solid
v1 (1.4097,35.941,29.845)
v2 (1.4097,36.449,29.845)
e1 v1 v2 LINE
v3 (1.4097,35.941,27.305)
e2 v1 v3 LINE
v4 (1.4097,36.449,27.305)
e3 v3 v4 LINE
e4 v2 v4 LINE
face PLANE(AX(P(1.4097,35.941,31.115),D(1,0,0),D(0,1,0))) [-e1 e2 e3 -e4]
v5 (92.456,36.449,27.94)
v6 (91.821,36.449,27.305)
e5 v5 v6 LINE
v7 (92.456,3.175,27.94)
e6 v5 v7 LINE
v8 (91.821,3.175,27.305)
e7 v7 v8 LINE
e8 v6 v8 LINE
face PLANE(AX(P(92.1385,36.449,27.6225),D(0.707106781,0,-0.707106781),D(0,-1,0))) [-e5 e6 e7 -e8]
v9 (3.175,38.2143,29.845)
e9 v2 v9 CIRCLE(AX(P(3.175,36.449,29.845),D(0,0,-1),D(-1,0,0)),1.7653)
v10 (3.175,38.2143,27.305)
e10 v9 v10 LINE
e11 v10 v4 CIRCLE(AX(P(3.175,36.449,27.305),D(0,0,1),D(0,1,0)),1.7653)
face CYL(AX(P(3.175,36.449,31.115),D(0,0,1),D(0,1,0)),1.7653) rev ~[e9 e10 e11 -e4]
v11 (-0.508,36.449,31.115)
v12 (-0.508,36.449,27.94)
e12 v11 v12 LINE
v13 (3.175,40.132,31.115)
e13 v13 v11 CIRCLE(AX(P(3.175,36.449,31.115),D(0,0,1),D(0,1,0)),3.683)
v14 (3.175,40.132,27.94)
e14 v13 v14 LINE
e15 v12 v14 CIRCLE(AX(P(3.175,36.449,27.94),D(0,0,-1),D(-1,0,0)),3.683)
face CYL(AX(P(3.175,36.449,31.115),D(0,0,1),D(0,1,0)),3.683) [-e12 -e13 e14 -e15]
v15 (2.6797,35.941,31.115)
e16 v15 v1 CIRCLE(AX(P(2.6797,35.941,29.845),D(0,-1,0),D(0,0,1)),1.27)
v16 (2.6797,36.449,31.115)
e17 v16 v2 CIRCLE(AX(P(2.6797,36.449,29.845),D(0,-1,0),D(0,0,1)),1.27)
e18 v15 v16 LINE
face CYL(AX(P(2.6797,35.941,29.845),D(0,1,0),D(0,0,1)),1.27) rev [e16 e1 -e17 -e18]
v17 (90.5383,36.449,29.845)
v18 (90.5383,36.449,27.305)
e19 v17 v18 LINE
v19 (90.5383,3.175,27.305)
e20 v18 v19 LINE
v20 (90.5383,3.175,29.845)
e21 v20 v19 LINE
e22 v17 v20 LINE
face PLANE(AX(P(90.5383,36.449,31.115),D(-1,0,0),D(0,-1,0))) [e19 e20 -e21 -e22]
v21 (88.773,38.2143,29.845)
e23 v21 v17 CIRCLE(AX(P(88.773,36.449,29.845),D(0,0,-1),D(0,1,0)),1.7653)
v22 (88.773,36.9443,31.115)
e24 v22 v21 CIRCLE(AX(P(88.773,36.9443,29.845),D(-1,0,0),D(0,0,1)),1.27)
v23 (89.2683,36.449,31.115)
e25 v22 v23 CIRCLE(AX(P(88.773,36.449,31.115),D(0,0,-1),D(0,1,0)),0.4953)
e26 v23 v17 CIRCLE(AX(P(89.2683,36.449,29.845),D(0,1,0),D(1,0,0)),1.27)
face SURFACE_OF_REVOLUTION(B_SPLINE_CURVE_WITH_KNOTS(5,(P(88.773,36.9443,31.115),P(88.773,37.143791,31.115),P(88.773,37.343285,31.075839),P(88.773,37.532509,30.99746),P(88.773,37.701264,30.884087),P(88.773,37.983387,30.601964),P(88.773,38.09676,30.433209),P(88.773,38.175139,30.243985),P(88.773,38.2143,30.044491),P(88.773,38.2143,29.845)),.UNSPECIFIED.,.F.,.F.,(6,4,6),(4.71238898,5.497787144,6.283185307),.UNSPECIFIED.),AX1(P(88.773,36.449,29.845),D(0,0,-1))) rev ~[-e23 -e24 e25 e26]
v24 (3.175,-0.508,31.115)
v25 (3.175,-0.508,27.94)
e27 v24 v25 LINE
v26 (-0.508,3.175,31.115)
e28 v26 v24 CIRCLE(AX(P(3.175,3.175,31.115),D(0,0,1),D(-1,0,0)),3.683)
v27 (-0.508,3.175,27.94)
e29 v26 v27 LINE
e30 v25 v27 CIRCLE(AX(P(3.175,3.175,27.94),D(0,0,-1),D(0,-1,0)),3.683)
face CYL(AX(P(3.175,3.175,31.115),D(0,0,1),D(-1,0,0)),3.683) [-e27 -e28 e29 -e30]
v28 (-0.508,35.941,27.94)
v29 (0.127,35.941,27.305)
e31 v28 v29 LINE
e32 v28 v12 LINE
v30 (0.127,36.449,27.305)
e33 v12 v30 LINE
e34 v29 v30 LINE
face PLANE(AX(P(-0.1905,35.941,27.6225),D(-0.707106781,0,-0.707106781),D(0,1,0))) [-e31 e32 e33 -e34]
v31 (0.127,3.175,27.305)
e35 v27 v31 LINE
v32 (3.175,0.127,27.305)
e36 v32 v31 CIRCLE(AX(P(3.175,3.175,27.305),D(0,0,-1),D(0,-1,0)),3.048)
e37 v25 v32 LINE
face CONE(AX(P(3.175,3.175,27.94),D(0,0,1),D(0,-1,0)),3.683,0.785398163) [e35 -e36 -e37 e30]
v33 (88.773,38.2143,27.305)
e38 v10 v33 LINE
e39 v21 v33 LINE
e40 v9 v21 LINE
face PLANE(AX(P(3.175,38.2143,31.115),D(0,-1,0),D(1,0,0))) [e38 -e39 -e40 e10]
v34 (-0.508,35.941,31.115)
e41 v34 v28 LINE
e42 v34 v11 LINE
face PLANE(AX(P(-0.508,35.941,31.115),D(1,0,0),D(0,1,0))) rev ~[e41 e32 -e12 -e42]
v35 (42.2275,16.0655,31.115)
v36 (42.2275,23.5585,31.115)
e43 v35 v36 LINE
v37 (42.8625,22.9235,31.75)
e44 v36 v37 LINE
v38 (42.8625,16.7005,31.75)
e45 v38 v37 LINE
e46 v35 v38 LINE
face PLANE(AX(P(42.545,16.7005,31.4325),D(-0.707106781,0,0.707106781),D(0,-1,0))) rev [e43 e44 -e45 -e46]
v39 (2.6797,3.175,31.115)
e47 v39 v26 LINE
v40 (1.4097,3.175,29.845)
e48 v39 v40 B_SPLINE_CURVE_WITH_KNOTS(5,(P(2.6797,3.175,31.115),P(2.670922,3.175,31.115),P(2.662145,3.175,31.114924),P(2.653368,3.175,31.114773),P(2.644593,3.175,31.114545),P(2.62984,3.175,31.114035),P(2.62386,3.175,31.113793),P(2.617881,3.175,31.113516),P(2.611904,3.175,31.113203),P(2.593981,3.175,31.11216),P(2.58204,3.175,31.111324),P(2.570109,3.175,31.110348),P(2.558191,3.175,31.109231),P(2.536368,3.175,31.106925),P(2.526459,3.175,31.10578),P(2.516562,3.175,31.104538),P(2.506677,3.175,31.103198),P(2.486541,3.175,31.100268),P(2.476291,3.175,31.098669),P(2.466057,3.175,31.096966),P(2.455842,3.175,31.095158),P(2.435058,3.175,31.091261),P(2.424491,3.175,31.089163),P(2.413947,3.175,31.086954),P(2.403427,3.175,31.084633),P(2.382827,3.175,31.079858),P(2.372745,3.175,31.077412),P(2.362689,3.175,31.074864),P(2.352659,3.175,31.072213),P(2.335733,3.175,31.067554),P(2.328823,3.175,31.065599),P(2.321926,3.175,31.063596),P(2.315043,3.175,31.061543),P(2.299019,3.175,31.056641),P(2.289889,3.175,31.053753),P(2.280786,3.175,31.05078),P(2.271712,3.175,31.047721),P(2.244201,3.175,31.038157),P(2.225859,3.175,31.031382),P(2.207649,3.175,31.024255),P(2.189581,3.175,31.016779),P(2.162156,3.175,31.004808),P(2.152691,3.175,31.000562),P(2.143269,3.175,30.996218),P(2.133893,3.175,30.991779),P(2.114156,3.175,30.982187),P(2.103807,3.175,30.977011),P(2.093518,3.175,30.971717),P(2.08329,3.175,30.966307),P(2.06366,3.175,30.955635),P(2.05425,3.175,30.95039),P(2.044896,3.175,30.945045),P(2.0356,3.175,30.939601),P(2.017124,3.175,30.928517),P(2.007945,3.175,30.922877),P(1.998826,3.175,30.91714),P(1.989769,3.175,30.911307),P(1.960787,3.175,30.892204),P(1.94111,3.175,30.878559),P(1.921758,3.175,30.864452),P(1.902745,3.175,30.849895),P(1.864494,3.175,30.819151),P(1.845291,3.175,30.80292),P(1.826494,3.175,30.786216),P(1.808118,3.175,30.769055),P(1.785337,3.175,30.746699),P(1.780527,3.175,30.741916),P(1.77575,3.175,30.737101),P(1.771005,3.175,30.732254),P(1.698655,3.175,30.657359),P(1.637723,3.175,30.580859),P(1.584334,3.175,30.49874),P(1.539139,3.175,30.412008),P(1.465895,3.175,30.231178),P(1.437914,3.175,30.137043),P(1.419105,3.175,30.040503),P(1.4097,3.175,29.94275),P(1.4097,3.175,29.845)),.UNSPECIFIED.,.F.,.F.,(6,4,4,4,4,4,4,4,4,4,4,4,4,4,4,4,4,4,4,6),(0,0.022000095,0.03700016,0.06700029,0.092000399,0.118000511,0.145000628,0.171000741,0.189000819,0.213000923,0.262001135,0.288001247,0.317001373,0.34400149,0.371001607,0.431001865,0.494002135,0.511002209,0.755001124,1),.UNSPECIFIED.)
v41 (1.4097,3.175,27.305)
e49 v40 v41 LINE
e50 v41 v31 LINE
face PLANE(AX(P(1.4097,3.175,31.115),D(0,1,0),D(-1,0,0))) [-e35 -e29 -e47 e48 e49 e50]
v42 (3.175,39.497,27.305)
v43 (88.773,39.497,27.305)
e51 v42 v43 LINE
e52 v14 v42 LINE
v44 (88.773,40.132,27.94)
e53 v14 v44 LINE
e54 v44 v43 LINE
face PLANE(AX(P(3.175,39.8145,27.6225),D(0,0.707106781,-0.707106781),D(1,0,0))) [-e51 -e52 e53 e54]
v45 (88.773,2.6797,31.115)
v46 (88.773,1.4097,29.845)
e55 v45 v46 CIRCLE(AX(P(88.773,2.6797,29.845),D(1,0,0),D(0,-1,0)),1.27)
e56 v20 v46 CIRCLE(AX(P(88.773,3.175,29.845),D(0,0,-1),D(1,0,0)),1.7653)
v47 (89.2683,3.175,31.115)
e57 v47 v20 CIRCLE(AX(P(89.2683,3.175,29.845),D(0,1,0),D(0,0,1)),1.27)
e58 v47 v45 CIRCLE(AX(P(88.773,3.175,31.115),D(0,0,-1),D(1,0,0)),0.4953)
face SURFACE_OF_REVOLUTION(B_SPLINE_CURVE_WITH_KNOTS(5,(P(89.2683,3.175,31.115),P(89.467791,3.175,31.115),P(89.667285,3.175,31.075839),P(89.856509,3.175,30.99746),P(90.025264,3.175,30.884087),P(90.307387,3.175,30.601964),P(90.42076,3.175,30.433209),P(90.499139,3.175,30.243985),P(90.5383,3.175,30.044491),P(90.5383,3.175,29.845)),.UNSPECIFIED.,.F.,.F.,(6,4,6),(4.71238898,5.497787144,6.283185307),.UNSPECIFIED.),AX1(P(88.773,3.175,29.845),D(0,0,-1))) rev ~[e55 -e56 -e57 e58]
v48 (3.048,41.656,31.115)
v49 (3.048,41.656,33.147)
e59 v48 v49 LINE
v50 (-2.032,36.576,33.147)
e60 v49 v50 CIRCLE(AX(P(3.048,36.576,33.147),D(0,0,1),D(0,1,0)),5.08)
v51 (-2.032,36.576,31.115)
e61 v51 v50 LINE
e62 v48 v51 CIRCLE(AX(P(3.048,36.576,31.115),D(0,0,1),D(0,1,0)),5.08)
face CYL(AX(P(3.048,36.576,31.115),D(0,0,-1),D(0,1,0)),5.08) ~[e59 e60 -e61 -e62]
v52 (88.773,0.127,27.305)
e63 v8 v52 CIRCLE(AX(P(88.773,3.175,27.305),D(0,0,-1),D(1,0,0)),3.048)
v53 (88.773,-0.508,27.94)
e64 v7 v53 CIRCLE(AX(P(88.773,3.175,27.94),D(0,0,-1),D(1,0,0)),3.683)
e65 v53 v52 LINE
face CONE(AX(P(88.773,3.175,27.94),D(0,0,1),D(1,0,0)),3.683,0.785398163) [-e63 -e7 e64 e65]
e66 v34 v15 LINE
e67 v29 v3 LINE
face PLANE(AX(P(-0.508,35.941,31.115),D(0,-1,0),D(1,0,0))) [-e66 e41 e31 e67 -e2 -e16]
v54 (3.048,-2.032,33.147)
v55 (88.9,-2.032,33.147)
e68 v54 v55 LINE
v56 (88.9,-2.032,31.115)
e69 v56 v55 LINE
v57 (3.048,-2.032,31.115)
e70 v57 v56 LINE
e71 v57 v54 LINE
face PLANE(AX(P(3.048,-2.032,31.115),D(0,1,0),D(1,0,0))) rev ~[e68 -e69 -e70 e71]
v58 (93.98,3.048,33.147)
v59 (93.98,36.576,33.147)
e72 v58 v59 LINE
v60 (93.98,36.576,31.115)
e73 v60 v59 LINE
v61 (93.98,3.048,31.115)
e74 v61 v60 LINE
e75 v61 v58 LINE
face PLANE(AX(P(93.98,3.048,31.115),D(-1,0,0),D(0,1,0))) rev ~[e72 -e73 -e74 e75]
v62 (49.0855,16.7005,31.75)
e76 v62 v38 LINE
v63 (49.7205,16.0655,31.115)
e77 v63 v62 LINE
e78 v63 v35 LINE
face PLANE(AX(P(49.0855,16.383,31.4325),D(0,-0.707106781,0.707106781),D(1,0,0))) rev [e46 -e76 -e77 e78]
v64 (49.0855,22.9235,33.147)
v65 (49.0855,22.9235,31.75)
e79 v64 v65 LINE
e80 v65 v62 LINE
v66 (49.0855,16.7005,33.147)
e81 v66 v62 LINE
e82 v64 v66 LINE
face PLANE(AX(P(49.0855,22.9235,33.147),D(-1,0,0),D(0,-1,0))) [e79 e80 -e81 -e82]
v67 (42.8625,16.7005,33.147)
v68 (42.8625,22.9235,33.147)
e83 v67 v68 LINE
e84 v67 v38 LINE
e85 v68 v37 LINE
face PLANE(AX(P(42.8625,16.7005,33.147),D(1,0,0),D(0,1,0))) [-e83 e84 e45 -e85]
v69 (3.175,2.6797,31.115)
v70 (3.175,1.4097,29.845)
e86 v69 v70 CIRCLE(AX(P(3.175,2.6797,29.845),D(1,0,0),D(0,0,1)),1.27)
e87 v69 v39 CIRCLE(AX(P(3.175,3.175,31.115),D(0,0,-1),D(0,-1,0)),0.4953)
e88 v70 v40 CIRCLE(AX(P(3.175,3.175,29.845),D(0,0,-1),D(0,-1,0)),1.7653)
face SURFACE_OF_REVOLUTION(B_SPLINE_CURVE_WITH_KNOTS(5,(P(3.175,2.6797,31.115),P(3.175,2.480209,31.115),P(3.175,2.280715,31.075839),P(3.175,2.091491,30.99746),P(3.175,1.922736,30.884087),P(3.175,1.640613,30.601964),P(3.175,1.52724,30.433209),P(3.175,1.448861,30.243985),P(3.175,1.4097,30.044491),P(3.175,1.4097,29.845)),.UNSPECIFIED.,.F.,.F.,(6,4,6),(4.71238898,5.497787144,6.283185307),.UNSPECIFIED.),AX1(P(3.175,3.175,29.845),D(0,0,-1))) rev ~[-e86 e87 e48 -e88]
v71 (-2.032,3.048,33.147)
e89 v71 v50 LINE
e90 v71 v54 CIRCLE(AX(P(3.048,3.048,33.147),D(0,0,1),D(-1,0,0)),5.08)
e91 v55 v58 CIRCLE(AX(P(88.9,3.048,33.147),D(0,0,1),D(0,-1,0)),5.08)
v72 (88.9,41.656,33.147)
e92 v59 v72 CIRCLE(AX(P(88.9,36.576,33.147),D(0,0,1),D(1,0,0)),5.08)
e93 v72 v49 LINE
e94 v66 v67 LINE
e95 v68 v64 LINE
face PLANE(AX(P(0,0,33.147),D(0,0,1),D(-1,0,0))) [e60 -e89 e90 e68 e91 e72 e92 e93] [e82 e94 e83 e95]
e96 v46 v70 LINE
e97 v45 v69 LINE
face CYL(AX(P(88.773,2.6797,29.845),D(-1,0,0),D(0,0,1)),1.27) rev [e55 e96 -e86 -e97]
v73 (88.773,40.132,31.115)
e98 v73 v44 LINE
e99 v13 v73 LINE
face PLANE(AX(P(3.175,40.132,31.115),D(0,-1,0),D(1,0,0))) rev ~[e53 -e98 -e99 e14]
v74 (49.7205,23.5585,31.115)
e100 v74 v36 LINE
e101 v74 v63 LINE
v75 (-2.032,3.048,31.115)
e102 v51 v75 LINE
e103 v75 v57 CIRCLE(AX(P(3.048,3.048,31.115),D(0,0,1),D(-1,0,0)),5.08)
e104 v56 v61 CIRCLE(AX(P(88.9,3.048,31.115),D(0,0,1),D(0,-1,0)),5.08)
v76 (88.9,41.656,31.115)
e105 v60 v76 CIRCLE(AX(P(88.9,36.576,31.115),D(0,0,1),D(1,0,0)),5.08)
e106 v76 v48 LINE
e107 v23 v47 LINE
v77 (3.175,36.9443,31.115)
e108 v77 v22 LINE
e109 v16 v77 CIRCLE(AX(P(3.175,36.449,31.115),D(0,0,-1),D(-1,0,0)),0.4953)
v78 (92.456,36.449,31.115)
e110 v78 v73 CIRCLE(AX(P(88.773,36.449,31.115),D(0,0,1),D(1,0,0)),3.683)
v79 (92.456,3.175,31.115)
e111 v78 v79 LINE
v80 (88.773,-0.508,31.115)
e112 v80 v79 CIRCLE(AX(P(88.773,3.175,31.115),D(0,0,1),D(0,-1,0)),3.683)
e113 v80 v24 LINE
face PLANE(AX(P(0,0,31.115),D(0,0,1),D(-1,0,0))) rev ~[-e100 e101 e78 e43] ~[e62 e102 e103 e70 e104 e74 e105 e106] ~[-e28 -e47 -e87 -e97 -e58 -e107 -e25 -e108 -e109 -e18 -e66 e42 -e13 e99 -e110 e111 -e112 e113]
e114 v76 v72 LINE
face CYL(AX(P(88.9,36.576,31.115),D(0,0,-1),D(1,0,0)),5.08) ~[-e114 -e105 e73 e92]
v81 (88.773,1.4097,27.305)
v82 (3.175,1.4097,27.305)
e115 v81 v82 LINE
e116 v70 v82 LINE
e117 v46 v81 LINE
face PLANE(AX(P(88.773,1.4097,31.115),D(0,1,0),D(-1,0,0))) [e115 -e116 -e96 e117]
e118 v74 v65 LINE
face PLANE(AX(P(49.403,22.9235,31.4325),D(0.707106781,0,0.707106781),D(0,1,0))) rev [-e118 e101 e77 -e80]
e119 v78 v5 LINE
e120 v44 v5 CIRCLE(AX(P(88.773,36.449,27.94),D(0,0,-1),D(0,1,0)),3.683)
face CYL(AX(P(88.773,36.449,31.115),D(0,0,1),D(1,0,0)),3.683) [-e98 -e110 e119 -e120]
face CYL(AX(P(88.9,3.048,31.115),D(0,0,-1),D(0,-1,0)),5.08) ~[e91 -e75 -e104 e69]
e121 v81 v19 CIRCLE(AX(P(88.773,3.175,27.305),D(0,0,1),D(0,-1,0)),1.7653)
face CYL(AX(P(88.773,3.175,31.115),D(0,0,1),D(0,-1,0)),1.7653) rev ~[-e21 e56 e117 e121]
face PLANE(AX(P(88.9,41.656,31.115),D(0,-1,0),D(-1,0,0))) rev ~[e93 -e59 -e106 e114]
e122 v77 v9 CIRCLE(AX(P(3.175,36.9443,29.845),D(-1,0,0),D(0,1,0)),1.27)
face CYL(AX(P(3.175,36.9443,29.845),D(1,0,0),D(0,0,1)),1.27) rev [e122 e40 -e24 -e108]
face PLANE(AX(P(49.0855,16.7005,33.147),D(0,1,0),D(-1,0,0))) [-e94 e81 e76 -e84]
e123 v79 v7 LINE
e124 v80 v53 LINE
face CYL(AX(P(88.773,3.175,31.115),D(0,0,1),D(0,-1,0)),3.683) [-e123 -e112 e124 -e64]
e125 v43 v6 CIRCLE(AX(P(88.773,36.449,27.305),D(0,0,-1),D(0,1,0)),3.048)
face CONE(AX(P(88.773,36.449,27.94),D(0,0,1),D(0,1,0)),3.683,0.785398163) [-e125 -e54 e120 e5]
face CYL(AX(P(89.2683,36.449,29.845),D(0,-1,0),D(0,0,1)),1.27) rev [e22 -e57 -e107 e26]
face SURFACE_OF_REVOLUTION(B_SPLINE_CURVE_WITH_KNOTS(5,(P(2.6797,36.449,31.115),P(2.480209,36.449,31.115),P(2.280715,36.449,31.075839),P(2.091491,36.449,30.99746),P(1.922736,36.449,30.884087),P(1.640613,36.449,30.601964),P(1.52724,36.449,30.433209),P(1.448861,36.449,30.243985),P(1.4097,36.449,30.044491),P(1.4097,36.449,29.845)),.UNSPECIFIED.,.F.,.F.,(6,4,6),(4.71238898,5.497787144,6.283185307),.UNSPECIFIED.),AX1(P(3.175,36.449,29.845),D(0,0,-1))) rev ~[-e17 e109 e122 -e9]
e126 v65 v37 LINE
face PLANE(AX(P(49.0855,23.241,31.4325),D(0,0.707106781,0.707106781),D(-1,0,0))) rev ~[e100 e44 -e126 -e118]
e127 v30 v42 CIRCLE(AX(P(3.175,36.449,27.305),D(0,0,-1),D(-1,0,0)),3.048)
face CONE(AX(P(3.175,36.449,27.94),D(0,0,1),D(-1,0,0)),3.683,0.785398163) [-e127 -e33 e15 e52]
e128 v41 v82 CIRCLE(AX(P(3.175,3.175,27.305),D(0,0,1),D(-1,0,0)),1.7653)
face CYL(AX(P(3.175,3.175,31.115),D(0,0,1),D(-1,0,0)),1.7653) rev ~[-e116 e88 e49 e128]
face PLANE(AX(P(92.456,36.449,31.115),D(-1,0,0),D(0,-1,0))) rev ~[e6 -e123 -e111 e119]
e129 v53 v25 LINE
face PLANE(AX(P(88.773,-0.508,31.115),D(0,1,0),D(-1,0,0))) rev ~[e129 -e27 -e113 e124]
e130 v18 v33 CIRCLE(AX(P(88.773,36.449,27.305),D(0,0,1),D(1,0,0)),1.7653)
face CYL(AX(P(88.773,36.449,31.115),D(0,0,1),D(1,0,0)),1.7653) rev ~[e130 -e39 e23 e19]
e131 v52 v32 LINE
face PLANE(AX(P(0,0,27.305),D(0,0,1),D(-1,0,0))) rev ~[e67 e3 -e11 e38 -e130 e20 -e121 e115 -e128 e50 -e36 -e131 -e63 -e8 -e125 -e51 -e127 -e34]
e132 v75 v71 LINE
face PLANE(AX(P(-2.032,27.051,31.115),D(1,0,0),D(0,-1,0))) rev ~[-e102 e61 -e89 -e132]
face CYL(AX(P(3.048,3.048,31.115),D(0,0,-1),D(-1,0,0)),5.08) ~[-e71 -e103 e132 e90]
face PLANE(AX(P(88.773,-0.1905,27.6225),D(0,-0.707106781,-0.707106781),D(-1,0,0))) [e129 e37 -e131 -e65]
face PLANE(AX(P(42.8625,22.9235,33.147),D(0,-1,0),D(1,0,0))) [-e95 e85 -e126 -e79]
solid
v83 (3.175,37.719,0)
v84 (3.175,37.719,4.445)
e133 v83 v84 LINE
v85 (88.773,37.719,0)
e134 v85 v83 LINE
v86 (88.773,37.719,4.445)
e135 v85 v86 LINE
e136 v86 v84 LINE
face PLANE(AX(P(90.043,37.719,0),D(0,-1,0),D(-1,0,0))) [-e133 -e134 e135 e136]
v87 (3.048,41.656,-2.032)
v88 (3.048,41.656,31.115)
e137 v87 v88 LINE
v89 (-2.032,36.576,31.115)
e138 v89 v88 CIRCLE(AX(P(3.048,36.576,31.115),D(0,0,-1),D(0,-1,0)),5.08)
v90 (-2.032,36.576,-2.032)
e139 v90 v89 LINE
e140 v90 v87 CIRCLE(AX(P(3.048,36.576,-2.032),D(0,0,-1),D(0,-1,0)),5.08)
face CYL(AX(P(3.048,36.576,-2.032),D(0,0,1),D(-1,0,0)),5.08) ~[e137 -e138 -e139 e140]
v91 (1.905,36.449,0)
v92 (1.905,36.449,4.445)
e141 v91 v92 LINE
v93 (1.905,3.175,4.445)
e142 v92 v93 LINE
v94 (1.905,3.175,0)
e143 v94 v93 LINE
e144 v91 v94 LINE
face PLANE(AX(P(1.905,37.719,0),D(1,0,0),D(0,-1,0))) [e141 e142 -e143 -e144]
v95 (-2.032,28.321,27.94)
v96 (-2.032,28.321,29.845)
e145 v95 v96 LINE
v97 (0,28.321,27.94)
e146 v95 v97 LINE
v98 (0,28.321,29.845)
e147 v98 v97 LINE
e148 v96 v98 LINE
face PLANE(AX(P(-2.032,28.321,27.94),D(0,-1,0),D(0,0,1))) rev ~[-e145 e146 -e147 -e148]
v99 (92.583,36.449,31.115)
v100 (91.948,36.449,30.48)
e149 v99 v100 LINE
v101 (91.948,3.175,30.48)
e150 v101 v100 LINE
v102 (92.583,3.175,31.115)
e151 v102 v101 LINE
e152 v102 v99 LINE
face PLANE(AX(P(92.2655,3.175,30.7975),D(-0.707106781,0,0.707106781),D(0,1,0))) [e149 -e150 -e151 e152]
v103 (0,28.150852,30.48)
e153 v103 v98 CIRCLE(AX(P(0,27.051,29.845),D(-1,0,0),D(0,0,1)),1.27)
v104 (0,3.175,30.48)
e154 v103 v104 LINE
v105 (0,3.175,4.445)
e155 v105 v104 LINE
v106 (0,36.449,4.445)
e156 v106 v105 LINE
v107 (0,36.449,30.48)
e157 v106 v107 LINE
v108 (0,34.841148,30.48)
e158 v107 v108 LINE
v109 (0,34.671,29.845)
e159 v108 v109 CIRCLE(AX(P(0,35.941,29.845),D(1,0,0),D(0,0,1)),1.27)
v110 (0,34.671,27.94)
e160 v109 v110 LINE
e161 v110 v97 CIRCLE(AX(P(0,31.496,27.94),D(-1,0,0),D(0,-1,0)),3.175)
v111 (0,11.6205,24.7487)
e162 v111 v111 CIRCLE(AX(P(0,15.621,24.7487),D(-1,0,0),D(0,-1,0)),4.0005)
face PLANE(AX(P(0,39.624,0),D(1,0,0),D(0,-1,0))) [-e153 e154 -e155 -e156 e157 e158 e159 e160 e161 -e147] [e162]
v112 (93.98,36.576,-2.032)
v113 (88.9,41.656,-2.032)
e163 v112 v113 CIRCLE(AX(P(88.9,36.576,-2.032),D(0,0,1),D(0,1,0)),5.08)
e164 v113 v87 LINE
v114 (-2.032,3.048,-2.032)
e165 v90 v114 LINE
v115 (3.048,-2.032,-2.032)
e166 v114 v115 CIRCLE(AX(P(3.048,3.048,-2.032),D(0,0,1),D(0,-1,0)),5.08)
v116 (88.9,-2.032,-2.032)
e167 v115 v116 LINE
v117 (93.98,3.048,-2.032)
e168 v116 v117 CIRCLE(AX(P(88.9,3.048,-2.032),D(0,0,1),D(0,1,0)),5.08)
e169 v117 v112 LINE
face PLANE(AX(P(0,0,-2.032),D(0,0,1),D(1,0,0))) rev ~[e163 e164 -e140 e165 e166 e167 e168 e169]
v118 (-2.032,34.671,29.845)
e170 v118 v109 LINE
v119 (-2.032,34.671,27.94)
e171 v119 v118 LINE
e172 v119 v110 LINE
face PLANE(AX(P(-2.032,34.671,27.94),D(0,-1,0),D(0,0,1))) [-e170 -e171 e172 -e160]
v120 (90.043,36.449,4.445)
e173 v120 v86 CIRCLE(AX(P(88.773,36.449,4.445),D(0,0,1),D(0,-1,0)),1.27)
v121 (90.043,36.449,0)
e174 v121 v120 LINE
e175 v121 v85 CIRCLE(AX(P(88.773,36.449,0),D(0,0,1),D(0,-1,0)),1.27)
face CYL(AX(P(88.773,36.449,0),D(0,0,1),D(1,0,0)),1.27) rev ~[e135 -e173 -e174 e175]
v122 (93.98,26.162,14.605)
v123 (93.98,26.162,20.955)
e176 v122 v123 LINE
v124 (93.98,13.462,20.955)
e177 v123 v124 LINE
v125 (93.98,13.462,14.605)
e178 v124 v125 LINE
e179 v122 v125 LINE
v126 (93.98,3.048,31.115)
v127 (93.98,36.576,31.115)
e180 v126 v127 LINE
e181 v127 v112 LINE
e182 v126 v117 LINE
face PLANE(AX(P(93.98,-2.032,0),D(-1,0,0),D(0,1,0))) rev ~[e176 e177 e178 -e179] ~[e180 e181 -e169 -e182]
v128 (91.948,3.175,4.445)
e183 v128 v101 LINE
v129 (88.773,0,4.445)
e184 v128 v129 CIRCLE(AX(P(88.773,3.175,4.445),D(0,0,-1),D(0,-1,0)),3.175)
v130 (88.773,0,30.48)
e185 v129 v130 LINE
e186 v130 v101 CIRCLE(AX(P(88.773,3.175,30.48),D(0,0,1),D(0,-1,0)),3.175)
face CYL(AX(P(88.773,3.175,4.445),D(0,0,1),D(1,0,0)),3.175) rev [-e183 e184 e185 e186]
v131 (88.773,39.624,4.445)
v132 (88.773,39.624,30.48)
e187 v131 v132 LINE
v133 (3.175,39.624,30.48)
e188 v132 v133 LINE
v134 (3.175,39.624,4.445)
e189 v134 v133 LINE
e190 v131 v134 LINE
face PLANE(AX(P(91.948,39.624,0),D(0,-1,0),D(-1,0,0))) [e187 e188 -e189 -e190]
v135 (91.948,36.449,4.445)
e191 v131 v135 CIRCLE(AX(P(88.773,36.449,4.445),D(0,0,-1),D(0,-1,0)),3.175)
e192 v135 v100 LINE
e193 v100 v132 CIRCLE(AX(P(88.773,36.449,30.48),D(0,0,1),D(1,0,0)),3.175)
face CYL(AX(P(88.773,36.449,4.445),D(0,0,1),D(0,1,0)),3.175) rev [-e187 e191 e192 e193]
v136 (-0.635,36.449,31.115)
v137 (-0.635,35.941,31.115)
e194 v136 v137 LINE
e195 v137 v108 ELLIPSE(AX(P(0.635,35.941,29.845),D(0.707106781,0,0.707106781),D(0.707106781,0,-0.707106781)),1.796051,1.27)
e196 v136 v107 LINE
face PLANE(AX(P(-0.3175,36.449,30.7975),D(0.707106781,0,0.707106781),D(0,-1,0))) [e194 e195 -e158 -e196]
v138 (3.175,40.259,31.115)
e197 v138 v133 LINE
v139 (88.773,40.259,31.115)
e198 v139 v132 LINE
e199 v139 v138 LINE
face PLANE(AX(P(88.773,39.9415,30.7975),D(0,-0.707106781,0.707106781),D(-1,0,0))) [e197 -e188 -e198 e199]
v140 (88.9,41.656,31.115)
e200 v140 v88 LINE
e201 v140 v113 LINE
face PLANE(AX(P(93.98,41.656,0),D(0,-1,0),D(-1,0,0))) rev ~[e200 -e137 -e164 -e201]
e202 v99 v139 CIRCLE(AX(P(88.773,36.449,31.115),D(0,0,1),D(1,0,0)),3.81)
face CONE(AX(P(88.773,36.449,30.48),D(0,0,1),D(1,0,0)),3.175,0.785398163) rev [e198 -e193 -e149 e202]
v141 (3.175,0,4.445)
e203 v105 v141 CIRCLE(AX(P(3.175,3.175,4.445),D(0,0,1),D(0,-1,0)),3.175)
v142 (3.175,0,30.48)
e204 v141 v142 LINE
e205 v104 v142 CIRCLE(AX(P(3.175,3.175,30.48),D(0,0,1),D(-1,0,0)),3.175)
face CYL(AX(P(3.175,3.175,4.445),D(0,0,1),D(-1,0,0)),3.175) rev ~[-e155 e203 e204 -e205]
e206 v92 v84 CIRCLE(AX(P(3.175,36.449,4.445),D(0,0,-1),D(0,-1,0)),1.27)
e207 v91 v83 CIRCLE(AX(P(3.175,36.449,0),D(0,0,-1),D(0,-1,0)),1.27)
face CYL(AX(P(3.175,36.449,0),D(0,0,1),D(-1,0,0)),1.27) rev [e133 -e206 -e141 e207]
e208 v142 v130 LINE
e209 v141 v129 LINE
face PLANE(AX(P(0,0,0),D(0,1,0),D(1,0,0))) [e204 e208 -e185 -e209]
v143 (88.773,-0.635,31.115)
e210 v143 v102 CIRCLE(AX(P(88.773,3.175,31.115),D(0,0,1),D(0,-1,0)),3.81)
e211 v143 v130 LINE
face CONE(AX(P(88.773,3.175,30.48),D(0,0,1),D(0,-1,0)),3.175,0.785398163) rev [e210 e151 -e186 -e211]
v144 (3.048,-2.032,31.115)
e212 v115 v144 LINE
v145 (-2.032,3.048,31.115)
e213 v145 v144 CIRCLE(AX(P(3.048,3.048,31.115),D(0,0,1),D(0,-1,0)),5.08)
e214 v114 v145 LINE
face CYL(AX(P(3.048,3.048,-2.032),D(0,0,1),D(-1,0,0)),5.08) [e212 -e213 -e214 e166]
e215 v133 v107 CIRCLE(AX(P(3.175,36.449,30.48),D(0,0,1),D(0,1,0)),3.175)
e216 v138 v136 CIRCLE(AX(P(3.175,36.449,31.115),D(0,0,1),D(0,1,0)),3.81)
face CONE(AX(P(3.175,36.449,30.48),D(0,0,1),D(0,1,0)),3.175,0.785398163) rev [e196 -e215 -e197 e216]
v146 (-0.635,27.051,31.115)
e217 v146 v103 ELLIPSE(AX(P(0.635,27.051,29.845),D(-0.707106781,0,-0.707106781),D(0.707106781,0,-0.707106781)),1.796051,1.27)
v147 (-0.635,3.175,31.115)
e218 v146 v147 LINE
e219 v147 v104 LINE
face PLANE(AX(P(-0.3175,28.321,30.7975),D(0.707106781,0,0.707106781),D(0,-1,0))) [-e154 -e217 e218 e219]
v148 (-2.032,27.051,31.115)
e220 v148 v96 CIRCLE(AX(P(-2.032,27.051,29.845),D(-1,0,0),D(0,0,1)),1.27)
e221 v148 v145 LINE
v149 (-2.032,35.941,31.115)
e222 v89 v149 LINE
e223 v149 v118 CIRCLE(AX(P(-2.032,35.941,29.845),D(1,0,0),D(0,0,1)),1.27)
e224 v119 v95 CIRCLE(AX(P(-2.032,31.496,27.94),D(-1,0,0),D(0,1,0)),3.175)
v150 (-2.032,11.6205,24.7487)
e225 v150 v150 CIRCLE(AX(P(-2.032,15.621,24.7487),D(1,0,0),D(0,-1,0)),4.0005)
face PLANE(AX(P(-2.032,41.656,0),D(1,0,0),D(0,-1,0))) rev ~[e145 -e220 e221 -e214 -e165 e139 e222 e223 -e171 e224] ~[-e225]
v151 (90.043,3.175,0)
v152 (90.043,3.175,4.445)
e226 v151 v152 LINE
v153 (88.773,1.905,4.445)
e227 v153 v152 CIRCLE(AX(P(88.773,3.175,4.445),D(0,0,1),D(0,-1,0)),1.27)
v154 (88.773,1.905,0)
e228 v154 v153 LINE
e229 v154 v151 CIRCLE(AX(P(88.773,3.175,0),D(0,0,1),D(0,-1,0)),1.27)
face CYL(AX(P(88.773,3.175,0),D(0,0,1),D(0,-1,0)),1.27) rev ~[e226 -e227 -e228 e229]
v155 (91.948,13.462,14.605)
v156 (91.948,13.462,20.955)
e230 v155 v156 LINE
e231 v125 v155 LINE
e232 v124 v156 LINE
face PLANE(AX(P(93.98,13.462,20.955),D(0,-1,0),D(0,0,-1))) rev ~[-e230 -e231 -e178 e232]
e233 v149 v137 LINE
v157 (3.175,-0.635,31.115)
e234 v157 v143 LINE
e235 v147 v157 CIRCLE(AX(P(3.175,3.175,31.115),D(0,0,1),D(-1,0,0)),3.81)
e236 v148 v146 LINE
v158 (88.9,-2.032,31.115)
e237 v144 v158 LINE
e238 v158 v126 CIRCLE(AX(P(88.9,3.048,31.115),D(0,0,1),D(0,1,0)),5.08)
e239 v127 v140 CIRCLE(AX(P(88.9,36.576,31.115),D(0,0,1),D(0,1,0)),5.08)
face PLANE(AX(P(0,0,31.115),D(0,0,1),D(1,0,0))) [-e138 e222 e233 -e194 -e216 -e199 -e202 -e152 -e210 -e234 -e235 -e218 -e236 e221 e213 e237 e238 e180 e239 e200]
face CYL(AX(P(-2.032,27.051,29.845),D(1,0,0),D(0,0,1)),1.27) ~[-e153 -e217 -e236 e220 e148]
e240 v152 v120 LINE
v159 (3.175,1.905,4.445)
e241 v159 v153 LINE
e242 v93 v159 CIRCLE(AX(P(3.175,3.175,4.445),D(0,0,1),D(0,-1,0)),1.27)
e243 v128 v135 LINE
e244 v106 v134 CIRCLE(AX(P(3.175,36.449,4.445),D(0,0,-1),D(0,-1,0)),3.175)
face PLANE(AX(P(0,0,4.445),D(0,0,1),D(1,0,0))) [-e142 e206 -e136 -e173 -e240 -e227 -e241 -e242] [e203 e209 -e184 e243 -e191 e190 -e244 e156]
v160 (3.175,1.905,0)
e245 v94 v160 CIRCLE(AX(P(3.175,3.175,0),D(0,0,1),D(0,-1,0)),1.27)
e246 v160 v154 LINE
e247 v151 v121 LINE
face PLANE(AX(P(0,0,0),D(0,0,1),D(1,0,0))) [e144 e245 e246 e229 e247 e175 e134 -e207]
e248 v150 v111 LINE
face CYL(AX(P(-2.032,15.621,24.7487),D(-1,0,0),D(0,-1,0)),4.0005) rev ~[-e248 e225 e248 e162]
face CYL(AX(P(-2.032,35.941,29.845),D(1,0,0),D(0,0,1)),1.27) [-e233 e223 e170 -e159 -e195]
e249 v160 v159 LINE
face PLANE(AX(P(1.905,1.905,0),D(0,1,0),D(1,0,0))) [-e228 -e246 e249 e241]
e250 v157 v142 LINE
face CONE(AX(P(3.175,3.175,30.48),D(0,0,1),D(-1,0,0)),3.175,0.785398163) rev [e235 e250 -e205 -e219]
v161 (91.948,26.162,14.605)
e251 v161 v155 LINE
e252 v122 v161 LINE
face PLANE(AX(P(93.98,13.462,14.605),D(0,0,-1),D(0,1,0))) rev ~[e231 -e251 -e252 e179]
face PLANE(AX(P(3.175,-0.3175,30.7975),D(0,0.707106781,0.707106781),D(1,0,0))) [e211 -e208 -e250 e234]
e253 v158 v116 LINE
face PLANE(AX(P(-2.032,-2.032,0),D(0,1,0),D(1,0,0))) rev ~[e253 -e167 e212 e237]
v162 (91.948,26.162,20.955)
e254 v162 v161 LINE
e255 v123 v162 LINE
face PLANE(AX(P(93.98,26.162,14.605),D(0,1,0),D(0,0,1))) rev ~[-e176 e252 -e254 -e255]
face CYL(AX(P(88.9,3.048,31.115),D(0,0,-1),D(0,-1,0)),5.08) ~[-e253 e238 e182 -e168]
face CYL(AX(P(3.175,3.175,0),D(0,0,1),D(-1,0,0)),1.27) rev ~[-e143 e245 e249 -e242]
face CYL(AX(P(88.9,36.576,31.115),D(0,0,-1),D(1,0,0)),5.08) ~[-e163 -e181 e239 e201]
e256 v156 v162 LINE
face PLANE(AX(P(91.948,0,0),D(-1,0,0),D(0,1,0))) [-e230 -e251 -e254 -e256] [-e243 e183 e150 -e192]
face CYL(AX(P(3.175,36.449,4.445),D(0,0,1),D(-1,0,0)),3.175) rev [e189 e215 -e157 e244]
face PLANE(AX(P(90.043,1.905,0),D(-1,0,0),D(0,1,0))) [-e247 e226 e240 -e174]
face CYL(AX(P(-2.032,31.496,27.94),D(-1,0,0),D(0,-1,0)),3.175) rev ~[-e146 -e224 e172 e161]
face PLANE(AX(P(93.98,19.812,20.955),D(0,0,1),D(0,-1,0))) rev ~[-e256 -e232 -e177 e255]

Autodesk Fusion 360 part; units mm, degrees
sketch "Sketch1" plane through (0, 0, 0) normal (0, 0, 1) x (1, 0, 0)
  line L0 (0, 0) -> (91.948, 0)
  line L1 (91.948, 0) -> (91.948, 39.624)
  line L2 (91.948, 39.624) -> (0, 39.624)
  line L3 (0, 39.624) -> (0, 0)
  line L4 (-2.032, 41.656) -> (-2.032, -2.032)
  line L5 (-2.032, -2.032) -> (93.98, -2.032)
  line L6 (93.98, -2.032) -> (93.98, 41.656)
  line L7 (93.98, 41.656) -> (-2.032, 41.656)
  line L8 (1.905, 37.719) -> (1.905, 1.905)
  line L9 (1.905, 1.905) -> (90.043, 1.905)
  line L10 (90.043, 1.905) -> (90.043, 37.719)
  line L11 (90.043, 37.719) -> (1.905, 37.719)
  dimension "d1" = 91.948
  dimension "d2" = 39.624
  dimension "d3" = 2.032
  dimension "d4" = -1.905
extrude "Extrude1" add sketch "Sketch1" against normal blind 2.032 contours L0 L1 L2 L3 | L4 L5 L6 L7 | L8 L9 L10 L11 makes body 1
extrude "Extrude2" add sketch "Sketch1" along normal blind 4.445 contours L0 L1 L2 L3 bodies 1
extrude "Extrude3" add sketch "Sketch1" along normal blind 31.115 contours L4 L5 L6 L7 bodies 1
sketch "Sketch2" plane through (93.98, 0, 0) normal (1, 0, 0) x (0, 1, 0)
  line L0 (-2.032, 31.115) -> (-2.032, -2.032)
  line L1 (-2.032, -2.032) -> (41.656, -2.032)
  line L2 (41.656, -2.032) -> (41.656, 31.115)
  line L3 (41.656, 31.115) -> (-2.032, 31.115)
  line L4 (19.812, -2.032) -> (19.812, 20.955)
  line L5 (19.812, 20.955) -> (26.162, 20.955)
  line L6 (19.812, 20.955) -> (13.462, 20.955)
  line L7 (13.462, 20.955) -> (13.462, 14.605)
  line L8 (13.462, 14.605) -> (26.162, 14.605)
  line L9 (26.162, 14.605) -> (26.162, 20.955)
  dimension "d11" = 22.987
  dimension "d12" = 6.35
  dimension "d13" = 6.35
  dimension "d14" = 6.35
extrude "Extrude4" cut sketch "Sketch2" against normal blind 7.62 contours L4 L6 L7 L8 | L4 L5 L8 L9 bodies 1
sketch "Sketch3" plane through (-2.032, 0, 0) normal (-1, 0, 0) x (0, -1, 0)
  line L0 (-41.656, 31.115) -> (-41.656, -2.032)
  line L1 (-41.656, -2.032) -> (2.032, -2.032)
  line L2 (2.032, -2.032) -> (2.032, 31.115)
  line L3 (2.032, 31.115) -> (-41.656, 31.115)
  line L4 (-15.621, 31.0987) -> (-15.621, 24.7487)
  circle A0 centre (-15.621, 24.7487) radius 4.0005
  line L5 (-41.656, 31.115) -> (-31.496, 31.115)
  line L6 (-31.496, 31.115) -> (-31.496, 24.765)
  circle A1 centre (-31.496, 27.94) radius 3.175
  line L7 (-28.321, 27.94) -> (-28.321, 31.115)
  line L8 (-34.671, 27.94) -> (-34.671, 31.115)
  dimension "d20" = 6.35
  dimension "d21" = 8.001
  dimension "d34" = 17.653
  dimension "d35" = 10.16
  dimension "d36" = 6.35
extrude "Extrude5" cut sketch "Sketch3" against normal blind 2.54 contours L3 L5 A1 L8 | L6 A1 | L3 A1 L7 | L6 A1 | A0 bodies 1
fillet "Fillet1" radius 1.27 4 edges at (1.905, 37.719, 2.2225) (1.905, 1.905, 2.2225) (90.043, 37.719, 2.2225) (90.043, 1.905, 2.2225) on bodies 1
fillet "Fillet2" radius 3.175 4 edges at (91.948, 0, 17.78) (91.948, 39.624, 17.78) (0, 39.624, 17.78) (0, 0, 17.78) on bodies 1
fillet "Fillet3" radius 5.08 4 edges at (93.98, -2.032, 14.5415) (93.98, 41.656, 14.5415) (-2.032, -2.032, 14.5415) (-2.032, 41.656, 14.5415) on bodies 1
chamfer "Chamfer1" distance 0.635 angle 45 9 edges at (45.974, 0, 31.115) (0.9299, 0.9299, 31.115) (0, 15.748, 31.115) (0, 35.56, 31.115) (0.9299, 38.6941, 31.115) (45.974, 39.624, 31.115) (91.0181, 38.6941, 31.115) (91.948, 19.812, 31.115) (91.0181, 0.9299, 31.115) on bodies 1
fillet "Fillet5" radius 1.27 2 edges at (-1.3335, 34.671, 31.115) (-1.3335, 28.321, 31.115) on bodies 1
sketch "Sketch1 (2)" plane through (0, 0, 31.115) normal (0, 0, 1) x (-1, 0, 0) in component "Top"
  line L0 (0.635, -27.051) -> (2.032, -27.051)
  line L1 (2.032, -27.051) -> (2.032, -3.048)
  arc A0 (2.032, -3.048) -> (-3.048, 2.032) centre (-3.048, -3.048) ccw
  line L2 (-3.048, 2.032) -> (-88.9, 2.032)
  arc A1 (-88.9, 2.032) -> (-93.98, -3.048) centre (-88.9, -3.048) ccw
  line L3 (-93.98, -3.048) -> (-93.98, -36.576)
  arc A2 (-93.98, -36.576) -> (-88.9, -41.656) centre (-88.9, -36.576) ccw
  line L4 (-88.9, -41.656) -> (-3.048, -41.656)
  arc A3 (-3.048, -41.656) -> (2.032, -36.576) centre (-3.048, -36.576) ccw
  line L5 (2.032, -36.576) -> (2.032, -35.941)
  line L6 (2.032, -35.941) -> (0.635, -35.941)
  line L7 (0.635, -35.941) -> (0.635, -36.449)
  arc A4 (-3.175, -40.259) -> (0.635, -36.449) centre (-3.175, -36.449) ccw
  line L8 (-3.175, -40.259) -> (-88.773, -40.259)
  arc A5 (-92.583, -36.449) -> (-88.773, -40.259) centre (-88.773, -36.449) ccw
  line L9 (-92.583, -36.449) -> (-92.583, -3.175)
  arc A6 (-88.773, 0.635) -> (-92.583, -3.175) centre (-88.773, -3.175) ccw
  line L10 (-88.773, 0.635) -> (-3.175, 0.635)
  arc A7 (0.635, -3.175) -> (-3.175, 0.635) centre (-3.175, -3.175) ccw
  line L11 (0.635, -3.175) -> (0.635, -27.051)
  line L12 (-3.048, 4.0767) -> (-88.9, 4.0767)
  arc A8 (-88.9, 4.0767) -> (-96.0247, -3.048) centre (-88.9, -3.048) ccw
  line L13 (-96.0247, -3.048) -> (-96.0247, -36.576)
  arc A9 (-96.0247, -36.576) -> (-88.9, -43.7007) centre (-88.9, -36.576) ccw
  line L14 (-88.9, -43.7007) -> (-3.048, -43.7007)
  arc A10 (-3.048, -43.7007) -> (4.0767, -36.576) centre (-3.048, -36.576) ccw
  line L15 (4.0767, -36.576) -> (4.0767, -33.8963)
  line L16 (4.0767, -33.8963) -> (-1.4097, -33.8963)
  line L17 (-1.4097, -33.8963) -> (-1.4097, -36.449)
  arc A11 (-3.175, -38.2143) -> (-1.4097, -36.449) centre (-3.175, -36.449) ccw
  line L18 (-3.175, -38.2143) -> (-88.773, -38.2143)
  arc A12 (-90.5383, -36.449) -> (-88.773, -38.2143) centre (-88.773, -36.449) ccw
  line L19 (-90.5383, -36.449) -> (-90.5383, -3.175)
  arc A13 (-88.773, -1.4097) -> (-90.5383, -3.175) centre (-88.773, -3.175) ccw
  line L20 (-88.773, -1.4097) -> (-3.175, -1.4097)
  arc A14 (-1.4097, -3.175) -> (-3.175, -1.4097) centre (-3.175, -3.175) ccw
  line L21 (-1.4097, -3.175) -> (-1.4097, -29.0957)
  line L22 (-1.4097, -29.0957) -> (4.0767, -29.0957)
  line L23 (4.0767, -29.0957) -> (4.0767, -3.048)
  arc A15 (4.0767, -3.048) -> (-3.048, 4.0767) centre (-3.048, -3.048) ccw
  line L24 (-3.048, 2.159) -> (-88.9, 2.159)
  arc A16 (-88.9, 2.159) -> (-94.107, -3.048) centre (-88.9, -3.048) ccw
  line L25 (-94.107, -3.048) -> (-94.107, -36.576)
  arc A17 (-94.107, -36.576) -> (-88.9, -41.783) centre (-88.9, -36.576) ccw
  line L26 (-88.9, -41.783) -> (-3.048, -41.783)
  arc A18 (-3.048, -41.783) -> (2.159, -36.576) centre (-3.048, -36.576) ccw
  line L27 (2.159, -36.576) -> (2.159, -35.814)
  line L28 (2.159, -35.814) -> (0.508, -35.814)
  line L29 (0.508, -35.814) -> (0.508, -36.449)
  arc A19 (-3.175, -40.132) -> (0.508, -36.449) centre (-3.175, -36.449) ccw
  line L30 (-3.175, -40.132) -> (-88.773, -40.132)
  arc A20 (-92.456, -36.449) -> (-88.773, -40.132) centre (-88.773, -36.449) ccw
  line L31 (-92.456, -36.449) -> (-92.456, -3.175)
  arc A21 (-88.773, 0.508) -> (-92.456, -3.175) centre (-88.773, -3.175) ccw
  line L32 (-88.773, 0.508) -> (-3.175, 0.508)
  arc A22 (0.508, -3.175) -> (-3.175, 0.508) centre (-3.175, -3.175) ccw
  line L33 (0.508, -3.175) -> (0.508, -27.178)
  line L34 (0.508, -27.178) -> (2.159, -27.178)
  line L35 (2.159, -27.178) -> (2.159, -3.048)
  arc A23 (2.159, -3.048) -> (-3.048, 2.159) centre (-3.048, -3.048) ccw
  line L36 (2.032, -27.051) -> (2.032, -35.941)
  line L37 (0.635, -27.051) -> (0.635, -35.941)
  line L38 (0.635, -27.051) -> (-1.4097, -27.051)
  line L39 (0.635, -35.941) -> (-1.4097, -35.941)
  line L40 (-1.4097, -3.175) -> (4.0767, -3.175)
  dimension "d39" = 2.0447
  dimension "d40" = 0.127
extrude "Extrude1'" add sketch "Sketch1 (2)" along normal blind 2.032 separate body contours L0 L1 L11 L40 | L11 L33 L38 L40 | L0 L34 L36 L37 | L33 L34 L37 L38 | L7 A4 L8 A5 L9 A6 L10 A7 L29 A19 L30 A20 L31 A21 L32 A22 L39 L40 | L1 A0 L2 A1 L3 A2 L4 A3 L5 L6 L7 A4 L8 A5 L9 A6 L10 A7 L40 | L21 L22 L33 L34 L37 L38 | L22 L34 L36 L37 | L21 L33 L38 L40 | L17 A11 L18 A12 L19 A13 L20 A14 L29 A19 L30 A20 L31 A21 L32 A22 L39 L40 | L16 L17 A11 L18 A12 L19 A13 L20 A14 L21 L22 L37 | L16 L22 L36 L37 | L16 L17 L28 L29 L37 L39 | L16 L28 L36 L37 | L28 L29 L37 L39 | L6 L28 L36 L37 makes body 2 in component "Top"
extrude "Extrude2'" add sketch "Sketch1 (2)" against normal blind 3.81 contours L21 L33 L38 L40 | L17 A11 L18 A12 L19 A13 L20 A14 L29 A19 L30 A20 L31 A21 L32 A22 L39 L40 bodies 2 in component "Top"
sketch "Sketch2 (2)" plane through (0, 0, 33.147) normal (0, 0, 1) x (-1, 0, 0) in component "Top"
  arc A0 (2.032, -3.048) -> (-3.048, 2.032) centre (-3.048, -3.048) ccw
  line L0 (-3.048, 2.032) -> (-88.9, 2.032)
  arc A1 (-88.9, 2.032) -> (-93.98, -3.048) centre (-88.9, -3.048) ccw
  line L1 (-93.98, -3.048) -> (-93.98, -36.576)
  arc A2 (-93.98, -36.576) -> (-88.9, -41.656) centre (-88.9, -36.576) ccw
  line L2 (-88.9, -41.656) -> (-3.048, -41.656)
  arc A3 (-3.048, -41.656) -> (2.032, -36.576) centre (-3.048, -36.576) ccw
  line L3 (2.032, -36.576) -> (2.032, -3.048)
  line L4 (-45.974, -41.656) -> (-45.974, -19.812)
  line L5 (-49.0855, -16.7005) -> (-42.8625, -16.7005)
  line L6 (-42.8625, -16.7005) -> (-42.8625, -22.9235)
  line L7 (-42.8625, -22.9235) -> (-49.0855, -22.9235)
  line L8 (-49.0855, -22.9235) -> (-49.0855, -16.7005)
  line L9 (-49.0855, -16.7005) -> (-42.8625, -22.9235) construction
  line L10 (-42.8625, -16.7005) -> (-49.0855, -22.9235) construction
  point P0 (-45.974, -19.812)
  dimension "d45" = 6.223
  dimension "d46" = 6.223
extrude "Extrude3'" cut sketch "Sketch2 (2)" against normal blind 2.54 contours L5 L6 L7 L8 bodies 2 in component "Top"
extrude "Extrude4'" cut sketch "Sketch1 (2)" against normal blind 4.318 contours L21 L33 L38 L40 bodies 2 in component "Top"
fillet "Fillet1'" radius 1.27 8 edges at (1.4097, 36.195, 31.115) (1.9267, 37.6973, 31.115) (45.974, 38.2143, 31.115) (90.0213, 37.6973, 31.115) (90.5383, 19.812, 31.115) (90.0213, 1.9267, 31.115) (45.974, 1.4097, 31.115) (1.9267, 1.9267, 31.115) on bodies 2 in component "Top"
chamfer "Chamfer1'" distance 0.635 angle 45 8 edges at (-0.508, 36.195, 27.305) (0.5707, 39.0533, 27.305) (45.974, 40.132, 27.305) (91.3773, 39.0533, 27.305) (92.456, 19.812, 27.305) (91.3773, 0.5707, 27.305) (45.974, -0.508, 27.305) (0.5707, 0.5707, 27.305) on bodies 2 in component "Top"
chamfer "Chamfer2" distance 0.635 angle 45 4 edges at (42.8625, 19.812, 31.115) (45.974, 22.9235, 31.115) (49.0855, 19.812, 31.115) (45.974, 16.7005, 31.115) on bodies 2 in component "Top"
component "Top" placed x (1, 0, 0) y (0, 1, 0) z (0, 0, 1) at (0, 0, 0)
equation "d1 = 3.55 in + 0.07 in"
equation "d9 = 1.175 in + 0.05 in"
equation "d11 = 0.08 in + 0.175 in + 0.65 in"
equation "d34 = 0.86 in - 0.165 in"
